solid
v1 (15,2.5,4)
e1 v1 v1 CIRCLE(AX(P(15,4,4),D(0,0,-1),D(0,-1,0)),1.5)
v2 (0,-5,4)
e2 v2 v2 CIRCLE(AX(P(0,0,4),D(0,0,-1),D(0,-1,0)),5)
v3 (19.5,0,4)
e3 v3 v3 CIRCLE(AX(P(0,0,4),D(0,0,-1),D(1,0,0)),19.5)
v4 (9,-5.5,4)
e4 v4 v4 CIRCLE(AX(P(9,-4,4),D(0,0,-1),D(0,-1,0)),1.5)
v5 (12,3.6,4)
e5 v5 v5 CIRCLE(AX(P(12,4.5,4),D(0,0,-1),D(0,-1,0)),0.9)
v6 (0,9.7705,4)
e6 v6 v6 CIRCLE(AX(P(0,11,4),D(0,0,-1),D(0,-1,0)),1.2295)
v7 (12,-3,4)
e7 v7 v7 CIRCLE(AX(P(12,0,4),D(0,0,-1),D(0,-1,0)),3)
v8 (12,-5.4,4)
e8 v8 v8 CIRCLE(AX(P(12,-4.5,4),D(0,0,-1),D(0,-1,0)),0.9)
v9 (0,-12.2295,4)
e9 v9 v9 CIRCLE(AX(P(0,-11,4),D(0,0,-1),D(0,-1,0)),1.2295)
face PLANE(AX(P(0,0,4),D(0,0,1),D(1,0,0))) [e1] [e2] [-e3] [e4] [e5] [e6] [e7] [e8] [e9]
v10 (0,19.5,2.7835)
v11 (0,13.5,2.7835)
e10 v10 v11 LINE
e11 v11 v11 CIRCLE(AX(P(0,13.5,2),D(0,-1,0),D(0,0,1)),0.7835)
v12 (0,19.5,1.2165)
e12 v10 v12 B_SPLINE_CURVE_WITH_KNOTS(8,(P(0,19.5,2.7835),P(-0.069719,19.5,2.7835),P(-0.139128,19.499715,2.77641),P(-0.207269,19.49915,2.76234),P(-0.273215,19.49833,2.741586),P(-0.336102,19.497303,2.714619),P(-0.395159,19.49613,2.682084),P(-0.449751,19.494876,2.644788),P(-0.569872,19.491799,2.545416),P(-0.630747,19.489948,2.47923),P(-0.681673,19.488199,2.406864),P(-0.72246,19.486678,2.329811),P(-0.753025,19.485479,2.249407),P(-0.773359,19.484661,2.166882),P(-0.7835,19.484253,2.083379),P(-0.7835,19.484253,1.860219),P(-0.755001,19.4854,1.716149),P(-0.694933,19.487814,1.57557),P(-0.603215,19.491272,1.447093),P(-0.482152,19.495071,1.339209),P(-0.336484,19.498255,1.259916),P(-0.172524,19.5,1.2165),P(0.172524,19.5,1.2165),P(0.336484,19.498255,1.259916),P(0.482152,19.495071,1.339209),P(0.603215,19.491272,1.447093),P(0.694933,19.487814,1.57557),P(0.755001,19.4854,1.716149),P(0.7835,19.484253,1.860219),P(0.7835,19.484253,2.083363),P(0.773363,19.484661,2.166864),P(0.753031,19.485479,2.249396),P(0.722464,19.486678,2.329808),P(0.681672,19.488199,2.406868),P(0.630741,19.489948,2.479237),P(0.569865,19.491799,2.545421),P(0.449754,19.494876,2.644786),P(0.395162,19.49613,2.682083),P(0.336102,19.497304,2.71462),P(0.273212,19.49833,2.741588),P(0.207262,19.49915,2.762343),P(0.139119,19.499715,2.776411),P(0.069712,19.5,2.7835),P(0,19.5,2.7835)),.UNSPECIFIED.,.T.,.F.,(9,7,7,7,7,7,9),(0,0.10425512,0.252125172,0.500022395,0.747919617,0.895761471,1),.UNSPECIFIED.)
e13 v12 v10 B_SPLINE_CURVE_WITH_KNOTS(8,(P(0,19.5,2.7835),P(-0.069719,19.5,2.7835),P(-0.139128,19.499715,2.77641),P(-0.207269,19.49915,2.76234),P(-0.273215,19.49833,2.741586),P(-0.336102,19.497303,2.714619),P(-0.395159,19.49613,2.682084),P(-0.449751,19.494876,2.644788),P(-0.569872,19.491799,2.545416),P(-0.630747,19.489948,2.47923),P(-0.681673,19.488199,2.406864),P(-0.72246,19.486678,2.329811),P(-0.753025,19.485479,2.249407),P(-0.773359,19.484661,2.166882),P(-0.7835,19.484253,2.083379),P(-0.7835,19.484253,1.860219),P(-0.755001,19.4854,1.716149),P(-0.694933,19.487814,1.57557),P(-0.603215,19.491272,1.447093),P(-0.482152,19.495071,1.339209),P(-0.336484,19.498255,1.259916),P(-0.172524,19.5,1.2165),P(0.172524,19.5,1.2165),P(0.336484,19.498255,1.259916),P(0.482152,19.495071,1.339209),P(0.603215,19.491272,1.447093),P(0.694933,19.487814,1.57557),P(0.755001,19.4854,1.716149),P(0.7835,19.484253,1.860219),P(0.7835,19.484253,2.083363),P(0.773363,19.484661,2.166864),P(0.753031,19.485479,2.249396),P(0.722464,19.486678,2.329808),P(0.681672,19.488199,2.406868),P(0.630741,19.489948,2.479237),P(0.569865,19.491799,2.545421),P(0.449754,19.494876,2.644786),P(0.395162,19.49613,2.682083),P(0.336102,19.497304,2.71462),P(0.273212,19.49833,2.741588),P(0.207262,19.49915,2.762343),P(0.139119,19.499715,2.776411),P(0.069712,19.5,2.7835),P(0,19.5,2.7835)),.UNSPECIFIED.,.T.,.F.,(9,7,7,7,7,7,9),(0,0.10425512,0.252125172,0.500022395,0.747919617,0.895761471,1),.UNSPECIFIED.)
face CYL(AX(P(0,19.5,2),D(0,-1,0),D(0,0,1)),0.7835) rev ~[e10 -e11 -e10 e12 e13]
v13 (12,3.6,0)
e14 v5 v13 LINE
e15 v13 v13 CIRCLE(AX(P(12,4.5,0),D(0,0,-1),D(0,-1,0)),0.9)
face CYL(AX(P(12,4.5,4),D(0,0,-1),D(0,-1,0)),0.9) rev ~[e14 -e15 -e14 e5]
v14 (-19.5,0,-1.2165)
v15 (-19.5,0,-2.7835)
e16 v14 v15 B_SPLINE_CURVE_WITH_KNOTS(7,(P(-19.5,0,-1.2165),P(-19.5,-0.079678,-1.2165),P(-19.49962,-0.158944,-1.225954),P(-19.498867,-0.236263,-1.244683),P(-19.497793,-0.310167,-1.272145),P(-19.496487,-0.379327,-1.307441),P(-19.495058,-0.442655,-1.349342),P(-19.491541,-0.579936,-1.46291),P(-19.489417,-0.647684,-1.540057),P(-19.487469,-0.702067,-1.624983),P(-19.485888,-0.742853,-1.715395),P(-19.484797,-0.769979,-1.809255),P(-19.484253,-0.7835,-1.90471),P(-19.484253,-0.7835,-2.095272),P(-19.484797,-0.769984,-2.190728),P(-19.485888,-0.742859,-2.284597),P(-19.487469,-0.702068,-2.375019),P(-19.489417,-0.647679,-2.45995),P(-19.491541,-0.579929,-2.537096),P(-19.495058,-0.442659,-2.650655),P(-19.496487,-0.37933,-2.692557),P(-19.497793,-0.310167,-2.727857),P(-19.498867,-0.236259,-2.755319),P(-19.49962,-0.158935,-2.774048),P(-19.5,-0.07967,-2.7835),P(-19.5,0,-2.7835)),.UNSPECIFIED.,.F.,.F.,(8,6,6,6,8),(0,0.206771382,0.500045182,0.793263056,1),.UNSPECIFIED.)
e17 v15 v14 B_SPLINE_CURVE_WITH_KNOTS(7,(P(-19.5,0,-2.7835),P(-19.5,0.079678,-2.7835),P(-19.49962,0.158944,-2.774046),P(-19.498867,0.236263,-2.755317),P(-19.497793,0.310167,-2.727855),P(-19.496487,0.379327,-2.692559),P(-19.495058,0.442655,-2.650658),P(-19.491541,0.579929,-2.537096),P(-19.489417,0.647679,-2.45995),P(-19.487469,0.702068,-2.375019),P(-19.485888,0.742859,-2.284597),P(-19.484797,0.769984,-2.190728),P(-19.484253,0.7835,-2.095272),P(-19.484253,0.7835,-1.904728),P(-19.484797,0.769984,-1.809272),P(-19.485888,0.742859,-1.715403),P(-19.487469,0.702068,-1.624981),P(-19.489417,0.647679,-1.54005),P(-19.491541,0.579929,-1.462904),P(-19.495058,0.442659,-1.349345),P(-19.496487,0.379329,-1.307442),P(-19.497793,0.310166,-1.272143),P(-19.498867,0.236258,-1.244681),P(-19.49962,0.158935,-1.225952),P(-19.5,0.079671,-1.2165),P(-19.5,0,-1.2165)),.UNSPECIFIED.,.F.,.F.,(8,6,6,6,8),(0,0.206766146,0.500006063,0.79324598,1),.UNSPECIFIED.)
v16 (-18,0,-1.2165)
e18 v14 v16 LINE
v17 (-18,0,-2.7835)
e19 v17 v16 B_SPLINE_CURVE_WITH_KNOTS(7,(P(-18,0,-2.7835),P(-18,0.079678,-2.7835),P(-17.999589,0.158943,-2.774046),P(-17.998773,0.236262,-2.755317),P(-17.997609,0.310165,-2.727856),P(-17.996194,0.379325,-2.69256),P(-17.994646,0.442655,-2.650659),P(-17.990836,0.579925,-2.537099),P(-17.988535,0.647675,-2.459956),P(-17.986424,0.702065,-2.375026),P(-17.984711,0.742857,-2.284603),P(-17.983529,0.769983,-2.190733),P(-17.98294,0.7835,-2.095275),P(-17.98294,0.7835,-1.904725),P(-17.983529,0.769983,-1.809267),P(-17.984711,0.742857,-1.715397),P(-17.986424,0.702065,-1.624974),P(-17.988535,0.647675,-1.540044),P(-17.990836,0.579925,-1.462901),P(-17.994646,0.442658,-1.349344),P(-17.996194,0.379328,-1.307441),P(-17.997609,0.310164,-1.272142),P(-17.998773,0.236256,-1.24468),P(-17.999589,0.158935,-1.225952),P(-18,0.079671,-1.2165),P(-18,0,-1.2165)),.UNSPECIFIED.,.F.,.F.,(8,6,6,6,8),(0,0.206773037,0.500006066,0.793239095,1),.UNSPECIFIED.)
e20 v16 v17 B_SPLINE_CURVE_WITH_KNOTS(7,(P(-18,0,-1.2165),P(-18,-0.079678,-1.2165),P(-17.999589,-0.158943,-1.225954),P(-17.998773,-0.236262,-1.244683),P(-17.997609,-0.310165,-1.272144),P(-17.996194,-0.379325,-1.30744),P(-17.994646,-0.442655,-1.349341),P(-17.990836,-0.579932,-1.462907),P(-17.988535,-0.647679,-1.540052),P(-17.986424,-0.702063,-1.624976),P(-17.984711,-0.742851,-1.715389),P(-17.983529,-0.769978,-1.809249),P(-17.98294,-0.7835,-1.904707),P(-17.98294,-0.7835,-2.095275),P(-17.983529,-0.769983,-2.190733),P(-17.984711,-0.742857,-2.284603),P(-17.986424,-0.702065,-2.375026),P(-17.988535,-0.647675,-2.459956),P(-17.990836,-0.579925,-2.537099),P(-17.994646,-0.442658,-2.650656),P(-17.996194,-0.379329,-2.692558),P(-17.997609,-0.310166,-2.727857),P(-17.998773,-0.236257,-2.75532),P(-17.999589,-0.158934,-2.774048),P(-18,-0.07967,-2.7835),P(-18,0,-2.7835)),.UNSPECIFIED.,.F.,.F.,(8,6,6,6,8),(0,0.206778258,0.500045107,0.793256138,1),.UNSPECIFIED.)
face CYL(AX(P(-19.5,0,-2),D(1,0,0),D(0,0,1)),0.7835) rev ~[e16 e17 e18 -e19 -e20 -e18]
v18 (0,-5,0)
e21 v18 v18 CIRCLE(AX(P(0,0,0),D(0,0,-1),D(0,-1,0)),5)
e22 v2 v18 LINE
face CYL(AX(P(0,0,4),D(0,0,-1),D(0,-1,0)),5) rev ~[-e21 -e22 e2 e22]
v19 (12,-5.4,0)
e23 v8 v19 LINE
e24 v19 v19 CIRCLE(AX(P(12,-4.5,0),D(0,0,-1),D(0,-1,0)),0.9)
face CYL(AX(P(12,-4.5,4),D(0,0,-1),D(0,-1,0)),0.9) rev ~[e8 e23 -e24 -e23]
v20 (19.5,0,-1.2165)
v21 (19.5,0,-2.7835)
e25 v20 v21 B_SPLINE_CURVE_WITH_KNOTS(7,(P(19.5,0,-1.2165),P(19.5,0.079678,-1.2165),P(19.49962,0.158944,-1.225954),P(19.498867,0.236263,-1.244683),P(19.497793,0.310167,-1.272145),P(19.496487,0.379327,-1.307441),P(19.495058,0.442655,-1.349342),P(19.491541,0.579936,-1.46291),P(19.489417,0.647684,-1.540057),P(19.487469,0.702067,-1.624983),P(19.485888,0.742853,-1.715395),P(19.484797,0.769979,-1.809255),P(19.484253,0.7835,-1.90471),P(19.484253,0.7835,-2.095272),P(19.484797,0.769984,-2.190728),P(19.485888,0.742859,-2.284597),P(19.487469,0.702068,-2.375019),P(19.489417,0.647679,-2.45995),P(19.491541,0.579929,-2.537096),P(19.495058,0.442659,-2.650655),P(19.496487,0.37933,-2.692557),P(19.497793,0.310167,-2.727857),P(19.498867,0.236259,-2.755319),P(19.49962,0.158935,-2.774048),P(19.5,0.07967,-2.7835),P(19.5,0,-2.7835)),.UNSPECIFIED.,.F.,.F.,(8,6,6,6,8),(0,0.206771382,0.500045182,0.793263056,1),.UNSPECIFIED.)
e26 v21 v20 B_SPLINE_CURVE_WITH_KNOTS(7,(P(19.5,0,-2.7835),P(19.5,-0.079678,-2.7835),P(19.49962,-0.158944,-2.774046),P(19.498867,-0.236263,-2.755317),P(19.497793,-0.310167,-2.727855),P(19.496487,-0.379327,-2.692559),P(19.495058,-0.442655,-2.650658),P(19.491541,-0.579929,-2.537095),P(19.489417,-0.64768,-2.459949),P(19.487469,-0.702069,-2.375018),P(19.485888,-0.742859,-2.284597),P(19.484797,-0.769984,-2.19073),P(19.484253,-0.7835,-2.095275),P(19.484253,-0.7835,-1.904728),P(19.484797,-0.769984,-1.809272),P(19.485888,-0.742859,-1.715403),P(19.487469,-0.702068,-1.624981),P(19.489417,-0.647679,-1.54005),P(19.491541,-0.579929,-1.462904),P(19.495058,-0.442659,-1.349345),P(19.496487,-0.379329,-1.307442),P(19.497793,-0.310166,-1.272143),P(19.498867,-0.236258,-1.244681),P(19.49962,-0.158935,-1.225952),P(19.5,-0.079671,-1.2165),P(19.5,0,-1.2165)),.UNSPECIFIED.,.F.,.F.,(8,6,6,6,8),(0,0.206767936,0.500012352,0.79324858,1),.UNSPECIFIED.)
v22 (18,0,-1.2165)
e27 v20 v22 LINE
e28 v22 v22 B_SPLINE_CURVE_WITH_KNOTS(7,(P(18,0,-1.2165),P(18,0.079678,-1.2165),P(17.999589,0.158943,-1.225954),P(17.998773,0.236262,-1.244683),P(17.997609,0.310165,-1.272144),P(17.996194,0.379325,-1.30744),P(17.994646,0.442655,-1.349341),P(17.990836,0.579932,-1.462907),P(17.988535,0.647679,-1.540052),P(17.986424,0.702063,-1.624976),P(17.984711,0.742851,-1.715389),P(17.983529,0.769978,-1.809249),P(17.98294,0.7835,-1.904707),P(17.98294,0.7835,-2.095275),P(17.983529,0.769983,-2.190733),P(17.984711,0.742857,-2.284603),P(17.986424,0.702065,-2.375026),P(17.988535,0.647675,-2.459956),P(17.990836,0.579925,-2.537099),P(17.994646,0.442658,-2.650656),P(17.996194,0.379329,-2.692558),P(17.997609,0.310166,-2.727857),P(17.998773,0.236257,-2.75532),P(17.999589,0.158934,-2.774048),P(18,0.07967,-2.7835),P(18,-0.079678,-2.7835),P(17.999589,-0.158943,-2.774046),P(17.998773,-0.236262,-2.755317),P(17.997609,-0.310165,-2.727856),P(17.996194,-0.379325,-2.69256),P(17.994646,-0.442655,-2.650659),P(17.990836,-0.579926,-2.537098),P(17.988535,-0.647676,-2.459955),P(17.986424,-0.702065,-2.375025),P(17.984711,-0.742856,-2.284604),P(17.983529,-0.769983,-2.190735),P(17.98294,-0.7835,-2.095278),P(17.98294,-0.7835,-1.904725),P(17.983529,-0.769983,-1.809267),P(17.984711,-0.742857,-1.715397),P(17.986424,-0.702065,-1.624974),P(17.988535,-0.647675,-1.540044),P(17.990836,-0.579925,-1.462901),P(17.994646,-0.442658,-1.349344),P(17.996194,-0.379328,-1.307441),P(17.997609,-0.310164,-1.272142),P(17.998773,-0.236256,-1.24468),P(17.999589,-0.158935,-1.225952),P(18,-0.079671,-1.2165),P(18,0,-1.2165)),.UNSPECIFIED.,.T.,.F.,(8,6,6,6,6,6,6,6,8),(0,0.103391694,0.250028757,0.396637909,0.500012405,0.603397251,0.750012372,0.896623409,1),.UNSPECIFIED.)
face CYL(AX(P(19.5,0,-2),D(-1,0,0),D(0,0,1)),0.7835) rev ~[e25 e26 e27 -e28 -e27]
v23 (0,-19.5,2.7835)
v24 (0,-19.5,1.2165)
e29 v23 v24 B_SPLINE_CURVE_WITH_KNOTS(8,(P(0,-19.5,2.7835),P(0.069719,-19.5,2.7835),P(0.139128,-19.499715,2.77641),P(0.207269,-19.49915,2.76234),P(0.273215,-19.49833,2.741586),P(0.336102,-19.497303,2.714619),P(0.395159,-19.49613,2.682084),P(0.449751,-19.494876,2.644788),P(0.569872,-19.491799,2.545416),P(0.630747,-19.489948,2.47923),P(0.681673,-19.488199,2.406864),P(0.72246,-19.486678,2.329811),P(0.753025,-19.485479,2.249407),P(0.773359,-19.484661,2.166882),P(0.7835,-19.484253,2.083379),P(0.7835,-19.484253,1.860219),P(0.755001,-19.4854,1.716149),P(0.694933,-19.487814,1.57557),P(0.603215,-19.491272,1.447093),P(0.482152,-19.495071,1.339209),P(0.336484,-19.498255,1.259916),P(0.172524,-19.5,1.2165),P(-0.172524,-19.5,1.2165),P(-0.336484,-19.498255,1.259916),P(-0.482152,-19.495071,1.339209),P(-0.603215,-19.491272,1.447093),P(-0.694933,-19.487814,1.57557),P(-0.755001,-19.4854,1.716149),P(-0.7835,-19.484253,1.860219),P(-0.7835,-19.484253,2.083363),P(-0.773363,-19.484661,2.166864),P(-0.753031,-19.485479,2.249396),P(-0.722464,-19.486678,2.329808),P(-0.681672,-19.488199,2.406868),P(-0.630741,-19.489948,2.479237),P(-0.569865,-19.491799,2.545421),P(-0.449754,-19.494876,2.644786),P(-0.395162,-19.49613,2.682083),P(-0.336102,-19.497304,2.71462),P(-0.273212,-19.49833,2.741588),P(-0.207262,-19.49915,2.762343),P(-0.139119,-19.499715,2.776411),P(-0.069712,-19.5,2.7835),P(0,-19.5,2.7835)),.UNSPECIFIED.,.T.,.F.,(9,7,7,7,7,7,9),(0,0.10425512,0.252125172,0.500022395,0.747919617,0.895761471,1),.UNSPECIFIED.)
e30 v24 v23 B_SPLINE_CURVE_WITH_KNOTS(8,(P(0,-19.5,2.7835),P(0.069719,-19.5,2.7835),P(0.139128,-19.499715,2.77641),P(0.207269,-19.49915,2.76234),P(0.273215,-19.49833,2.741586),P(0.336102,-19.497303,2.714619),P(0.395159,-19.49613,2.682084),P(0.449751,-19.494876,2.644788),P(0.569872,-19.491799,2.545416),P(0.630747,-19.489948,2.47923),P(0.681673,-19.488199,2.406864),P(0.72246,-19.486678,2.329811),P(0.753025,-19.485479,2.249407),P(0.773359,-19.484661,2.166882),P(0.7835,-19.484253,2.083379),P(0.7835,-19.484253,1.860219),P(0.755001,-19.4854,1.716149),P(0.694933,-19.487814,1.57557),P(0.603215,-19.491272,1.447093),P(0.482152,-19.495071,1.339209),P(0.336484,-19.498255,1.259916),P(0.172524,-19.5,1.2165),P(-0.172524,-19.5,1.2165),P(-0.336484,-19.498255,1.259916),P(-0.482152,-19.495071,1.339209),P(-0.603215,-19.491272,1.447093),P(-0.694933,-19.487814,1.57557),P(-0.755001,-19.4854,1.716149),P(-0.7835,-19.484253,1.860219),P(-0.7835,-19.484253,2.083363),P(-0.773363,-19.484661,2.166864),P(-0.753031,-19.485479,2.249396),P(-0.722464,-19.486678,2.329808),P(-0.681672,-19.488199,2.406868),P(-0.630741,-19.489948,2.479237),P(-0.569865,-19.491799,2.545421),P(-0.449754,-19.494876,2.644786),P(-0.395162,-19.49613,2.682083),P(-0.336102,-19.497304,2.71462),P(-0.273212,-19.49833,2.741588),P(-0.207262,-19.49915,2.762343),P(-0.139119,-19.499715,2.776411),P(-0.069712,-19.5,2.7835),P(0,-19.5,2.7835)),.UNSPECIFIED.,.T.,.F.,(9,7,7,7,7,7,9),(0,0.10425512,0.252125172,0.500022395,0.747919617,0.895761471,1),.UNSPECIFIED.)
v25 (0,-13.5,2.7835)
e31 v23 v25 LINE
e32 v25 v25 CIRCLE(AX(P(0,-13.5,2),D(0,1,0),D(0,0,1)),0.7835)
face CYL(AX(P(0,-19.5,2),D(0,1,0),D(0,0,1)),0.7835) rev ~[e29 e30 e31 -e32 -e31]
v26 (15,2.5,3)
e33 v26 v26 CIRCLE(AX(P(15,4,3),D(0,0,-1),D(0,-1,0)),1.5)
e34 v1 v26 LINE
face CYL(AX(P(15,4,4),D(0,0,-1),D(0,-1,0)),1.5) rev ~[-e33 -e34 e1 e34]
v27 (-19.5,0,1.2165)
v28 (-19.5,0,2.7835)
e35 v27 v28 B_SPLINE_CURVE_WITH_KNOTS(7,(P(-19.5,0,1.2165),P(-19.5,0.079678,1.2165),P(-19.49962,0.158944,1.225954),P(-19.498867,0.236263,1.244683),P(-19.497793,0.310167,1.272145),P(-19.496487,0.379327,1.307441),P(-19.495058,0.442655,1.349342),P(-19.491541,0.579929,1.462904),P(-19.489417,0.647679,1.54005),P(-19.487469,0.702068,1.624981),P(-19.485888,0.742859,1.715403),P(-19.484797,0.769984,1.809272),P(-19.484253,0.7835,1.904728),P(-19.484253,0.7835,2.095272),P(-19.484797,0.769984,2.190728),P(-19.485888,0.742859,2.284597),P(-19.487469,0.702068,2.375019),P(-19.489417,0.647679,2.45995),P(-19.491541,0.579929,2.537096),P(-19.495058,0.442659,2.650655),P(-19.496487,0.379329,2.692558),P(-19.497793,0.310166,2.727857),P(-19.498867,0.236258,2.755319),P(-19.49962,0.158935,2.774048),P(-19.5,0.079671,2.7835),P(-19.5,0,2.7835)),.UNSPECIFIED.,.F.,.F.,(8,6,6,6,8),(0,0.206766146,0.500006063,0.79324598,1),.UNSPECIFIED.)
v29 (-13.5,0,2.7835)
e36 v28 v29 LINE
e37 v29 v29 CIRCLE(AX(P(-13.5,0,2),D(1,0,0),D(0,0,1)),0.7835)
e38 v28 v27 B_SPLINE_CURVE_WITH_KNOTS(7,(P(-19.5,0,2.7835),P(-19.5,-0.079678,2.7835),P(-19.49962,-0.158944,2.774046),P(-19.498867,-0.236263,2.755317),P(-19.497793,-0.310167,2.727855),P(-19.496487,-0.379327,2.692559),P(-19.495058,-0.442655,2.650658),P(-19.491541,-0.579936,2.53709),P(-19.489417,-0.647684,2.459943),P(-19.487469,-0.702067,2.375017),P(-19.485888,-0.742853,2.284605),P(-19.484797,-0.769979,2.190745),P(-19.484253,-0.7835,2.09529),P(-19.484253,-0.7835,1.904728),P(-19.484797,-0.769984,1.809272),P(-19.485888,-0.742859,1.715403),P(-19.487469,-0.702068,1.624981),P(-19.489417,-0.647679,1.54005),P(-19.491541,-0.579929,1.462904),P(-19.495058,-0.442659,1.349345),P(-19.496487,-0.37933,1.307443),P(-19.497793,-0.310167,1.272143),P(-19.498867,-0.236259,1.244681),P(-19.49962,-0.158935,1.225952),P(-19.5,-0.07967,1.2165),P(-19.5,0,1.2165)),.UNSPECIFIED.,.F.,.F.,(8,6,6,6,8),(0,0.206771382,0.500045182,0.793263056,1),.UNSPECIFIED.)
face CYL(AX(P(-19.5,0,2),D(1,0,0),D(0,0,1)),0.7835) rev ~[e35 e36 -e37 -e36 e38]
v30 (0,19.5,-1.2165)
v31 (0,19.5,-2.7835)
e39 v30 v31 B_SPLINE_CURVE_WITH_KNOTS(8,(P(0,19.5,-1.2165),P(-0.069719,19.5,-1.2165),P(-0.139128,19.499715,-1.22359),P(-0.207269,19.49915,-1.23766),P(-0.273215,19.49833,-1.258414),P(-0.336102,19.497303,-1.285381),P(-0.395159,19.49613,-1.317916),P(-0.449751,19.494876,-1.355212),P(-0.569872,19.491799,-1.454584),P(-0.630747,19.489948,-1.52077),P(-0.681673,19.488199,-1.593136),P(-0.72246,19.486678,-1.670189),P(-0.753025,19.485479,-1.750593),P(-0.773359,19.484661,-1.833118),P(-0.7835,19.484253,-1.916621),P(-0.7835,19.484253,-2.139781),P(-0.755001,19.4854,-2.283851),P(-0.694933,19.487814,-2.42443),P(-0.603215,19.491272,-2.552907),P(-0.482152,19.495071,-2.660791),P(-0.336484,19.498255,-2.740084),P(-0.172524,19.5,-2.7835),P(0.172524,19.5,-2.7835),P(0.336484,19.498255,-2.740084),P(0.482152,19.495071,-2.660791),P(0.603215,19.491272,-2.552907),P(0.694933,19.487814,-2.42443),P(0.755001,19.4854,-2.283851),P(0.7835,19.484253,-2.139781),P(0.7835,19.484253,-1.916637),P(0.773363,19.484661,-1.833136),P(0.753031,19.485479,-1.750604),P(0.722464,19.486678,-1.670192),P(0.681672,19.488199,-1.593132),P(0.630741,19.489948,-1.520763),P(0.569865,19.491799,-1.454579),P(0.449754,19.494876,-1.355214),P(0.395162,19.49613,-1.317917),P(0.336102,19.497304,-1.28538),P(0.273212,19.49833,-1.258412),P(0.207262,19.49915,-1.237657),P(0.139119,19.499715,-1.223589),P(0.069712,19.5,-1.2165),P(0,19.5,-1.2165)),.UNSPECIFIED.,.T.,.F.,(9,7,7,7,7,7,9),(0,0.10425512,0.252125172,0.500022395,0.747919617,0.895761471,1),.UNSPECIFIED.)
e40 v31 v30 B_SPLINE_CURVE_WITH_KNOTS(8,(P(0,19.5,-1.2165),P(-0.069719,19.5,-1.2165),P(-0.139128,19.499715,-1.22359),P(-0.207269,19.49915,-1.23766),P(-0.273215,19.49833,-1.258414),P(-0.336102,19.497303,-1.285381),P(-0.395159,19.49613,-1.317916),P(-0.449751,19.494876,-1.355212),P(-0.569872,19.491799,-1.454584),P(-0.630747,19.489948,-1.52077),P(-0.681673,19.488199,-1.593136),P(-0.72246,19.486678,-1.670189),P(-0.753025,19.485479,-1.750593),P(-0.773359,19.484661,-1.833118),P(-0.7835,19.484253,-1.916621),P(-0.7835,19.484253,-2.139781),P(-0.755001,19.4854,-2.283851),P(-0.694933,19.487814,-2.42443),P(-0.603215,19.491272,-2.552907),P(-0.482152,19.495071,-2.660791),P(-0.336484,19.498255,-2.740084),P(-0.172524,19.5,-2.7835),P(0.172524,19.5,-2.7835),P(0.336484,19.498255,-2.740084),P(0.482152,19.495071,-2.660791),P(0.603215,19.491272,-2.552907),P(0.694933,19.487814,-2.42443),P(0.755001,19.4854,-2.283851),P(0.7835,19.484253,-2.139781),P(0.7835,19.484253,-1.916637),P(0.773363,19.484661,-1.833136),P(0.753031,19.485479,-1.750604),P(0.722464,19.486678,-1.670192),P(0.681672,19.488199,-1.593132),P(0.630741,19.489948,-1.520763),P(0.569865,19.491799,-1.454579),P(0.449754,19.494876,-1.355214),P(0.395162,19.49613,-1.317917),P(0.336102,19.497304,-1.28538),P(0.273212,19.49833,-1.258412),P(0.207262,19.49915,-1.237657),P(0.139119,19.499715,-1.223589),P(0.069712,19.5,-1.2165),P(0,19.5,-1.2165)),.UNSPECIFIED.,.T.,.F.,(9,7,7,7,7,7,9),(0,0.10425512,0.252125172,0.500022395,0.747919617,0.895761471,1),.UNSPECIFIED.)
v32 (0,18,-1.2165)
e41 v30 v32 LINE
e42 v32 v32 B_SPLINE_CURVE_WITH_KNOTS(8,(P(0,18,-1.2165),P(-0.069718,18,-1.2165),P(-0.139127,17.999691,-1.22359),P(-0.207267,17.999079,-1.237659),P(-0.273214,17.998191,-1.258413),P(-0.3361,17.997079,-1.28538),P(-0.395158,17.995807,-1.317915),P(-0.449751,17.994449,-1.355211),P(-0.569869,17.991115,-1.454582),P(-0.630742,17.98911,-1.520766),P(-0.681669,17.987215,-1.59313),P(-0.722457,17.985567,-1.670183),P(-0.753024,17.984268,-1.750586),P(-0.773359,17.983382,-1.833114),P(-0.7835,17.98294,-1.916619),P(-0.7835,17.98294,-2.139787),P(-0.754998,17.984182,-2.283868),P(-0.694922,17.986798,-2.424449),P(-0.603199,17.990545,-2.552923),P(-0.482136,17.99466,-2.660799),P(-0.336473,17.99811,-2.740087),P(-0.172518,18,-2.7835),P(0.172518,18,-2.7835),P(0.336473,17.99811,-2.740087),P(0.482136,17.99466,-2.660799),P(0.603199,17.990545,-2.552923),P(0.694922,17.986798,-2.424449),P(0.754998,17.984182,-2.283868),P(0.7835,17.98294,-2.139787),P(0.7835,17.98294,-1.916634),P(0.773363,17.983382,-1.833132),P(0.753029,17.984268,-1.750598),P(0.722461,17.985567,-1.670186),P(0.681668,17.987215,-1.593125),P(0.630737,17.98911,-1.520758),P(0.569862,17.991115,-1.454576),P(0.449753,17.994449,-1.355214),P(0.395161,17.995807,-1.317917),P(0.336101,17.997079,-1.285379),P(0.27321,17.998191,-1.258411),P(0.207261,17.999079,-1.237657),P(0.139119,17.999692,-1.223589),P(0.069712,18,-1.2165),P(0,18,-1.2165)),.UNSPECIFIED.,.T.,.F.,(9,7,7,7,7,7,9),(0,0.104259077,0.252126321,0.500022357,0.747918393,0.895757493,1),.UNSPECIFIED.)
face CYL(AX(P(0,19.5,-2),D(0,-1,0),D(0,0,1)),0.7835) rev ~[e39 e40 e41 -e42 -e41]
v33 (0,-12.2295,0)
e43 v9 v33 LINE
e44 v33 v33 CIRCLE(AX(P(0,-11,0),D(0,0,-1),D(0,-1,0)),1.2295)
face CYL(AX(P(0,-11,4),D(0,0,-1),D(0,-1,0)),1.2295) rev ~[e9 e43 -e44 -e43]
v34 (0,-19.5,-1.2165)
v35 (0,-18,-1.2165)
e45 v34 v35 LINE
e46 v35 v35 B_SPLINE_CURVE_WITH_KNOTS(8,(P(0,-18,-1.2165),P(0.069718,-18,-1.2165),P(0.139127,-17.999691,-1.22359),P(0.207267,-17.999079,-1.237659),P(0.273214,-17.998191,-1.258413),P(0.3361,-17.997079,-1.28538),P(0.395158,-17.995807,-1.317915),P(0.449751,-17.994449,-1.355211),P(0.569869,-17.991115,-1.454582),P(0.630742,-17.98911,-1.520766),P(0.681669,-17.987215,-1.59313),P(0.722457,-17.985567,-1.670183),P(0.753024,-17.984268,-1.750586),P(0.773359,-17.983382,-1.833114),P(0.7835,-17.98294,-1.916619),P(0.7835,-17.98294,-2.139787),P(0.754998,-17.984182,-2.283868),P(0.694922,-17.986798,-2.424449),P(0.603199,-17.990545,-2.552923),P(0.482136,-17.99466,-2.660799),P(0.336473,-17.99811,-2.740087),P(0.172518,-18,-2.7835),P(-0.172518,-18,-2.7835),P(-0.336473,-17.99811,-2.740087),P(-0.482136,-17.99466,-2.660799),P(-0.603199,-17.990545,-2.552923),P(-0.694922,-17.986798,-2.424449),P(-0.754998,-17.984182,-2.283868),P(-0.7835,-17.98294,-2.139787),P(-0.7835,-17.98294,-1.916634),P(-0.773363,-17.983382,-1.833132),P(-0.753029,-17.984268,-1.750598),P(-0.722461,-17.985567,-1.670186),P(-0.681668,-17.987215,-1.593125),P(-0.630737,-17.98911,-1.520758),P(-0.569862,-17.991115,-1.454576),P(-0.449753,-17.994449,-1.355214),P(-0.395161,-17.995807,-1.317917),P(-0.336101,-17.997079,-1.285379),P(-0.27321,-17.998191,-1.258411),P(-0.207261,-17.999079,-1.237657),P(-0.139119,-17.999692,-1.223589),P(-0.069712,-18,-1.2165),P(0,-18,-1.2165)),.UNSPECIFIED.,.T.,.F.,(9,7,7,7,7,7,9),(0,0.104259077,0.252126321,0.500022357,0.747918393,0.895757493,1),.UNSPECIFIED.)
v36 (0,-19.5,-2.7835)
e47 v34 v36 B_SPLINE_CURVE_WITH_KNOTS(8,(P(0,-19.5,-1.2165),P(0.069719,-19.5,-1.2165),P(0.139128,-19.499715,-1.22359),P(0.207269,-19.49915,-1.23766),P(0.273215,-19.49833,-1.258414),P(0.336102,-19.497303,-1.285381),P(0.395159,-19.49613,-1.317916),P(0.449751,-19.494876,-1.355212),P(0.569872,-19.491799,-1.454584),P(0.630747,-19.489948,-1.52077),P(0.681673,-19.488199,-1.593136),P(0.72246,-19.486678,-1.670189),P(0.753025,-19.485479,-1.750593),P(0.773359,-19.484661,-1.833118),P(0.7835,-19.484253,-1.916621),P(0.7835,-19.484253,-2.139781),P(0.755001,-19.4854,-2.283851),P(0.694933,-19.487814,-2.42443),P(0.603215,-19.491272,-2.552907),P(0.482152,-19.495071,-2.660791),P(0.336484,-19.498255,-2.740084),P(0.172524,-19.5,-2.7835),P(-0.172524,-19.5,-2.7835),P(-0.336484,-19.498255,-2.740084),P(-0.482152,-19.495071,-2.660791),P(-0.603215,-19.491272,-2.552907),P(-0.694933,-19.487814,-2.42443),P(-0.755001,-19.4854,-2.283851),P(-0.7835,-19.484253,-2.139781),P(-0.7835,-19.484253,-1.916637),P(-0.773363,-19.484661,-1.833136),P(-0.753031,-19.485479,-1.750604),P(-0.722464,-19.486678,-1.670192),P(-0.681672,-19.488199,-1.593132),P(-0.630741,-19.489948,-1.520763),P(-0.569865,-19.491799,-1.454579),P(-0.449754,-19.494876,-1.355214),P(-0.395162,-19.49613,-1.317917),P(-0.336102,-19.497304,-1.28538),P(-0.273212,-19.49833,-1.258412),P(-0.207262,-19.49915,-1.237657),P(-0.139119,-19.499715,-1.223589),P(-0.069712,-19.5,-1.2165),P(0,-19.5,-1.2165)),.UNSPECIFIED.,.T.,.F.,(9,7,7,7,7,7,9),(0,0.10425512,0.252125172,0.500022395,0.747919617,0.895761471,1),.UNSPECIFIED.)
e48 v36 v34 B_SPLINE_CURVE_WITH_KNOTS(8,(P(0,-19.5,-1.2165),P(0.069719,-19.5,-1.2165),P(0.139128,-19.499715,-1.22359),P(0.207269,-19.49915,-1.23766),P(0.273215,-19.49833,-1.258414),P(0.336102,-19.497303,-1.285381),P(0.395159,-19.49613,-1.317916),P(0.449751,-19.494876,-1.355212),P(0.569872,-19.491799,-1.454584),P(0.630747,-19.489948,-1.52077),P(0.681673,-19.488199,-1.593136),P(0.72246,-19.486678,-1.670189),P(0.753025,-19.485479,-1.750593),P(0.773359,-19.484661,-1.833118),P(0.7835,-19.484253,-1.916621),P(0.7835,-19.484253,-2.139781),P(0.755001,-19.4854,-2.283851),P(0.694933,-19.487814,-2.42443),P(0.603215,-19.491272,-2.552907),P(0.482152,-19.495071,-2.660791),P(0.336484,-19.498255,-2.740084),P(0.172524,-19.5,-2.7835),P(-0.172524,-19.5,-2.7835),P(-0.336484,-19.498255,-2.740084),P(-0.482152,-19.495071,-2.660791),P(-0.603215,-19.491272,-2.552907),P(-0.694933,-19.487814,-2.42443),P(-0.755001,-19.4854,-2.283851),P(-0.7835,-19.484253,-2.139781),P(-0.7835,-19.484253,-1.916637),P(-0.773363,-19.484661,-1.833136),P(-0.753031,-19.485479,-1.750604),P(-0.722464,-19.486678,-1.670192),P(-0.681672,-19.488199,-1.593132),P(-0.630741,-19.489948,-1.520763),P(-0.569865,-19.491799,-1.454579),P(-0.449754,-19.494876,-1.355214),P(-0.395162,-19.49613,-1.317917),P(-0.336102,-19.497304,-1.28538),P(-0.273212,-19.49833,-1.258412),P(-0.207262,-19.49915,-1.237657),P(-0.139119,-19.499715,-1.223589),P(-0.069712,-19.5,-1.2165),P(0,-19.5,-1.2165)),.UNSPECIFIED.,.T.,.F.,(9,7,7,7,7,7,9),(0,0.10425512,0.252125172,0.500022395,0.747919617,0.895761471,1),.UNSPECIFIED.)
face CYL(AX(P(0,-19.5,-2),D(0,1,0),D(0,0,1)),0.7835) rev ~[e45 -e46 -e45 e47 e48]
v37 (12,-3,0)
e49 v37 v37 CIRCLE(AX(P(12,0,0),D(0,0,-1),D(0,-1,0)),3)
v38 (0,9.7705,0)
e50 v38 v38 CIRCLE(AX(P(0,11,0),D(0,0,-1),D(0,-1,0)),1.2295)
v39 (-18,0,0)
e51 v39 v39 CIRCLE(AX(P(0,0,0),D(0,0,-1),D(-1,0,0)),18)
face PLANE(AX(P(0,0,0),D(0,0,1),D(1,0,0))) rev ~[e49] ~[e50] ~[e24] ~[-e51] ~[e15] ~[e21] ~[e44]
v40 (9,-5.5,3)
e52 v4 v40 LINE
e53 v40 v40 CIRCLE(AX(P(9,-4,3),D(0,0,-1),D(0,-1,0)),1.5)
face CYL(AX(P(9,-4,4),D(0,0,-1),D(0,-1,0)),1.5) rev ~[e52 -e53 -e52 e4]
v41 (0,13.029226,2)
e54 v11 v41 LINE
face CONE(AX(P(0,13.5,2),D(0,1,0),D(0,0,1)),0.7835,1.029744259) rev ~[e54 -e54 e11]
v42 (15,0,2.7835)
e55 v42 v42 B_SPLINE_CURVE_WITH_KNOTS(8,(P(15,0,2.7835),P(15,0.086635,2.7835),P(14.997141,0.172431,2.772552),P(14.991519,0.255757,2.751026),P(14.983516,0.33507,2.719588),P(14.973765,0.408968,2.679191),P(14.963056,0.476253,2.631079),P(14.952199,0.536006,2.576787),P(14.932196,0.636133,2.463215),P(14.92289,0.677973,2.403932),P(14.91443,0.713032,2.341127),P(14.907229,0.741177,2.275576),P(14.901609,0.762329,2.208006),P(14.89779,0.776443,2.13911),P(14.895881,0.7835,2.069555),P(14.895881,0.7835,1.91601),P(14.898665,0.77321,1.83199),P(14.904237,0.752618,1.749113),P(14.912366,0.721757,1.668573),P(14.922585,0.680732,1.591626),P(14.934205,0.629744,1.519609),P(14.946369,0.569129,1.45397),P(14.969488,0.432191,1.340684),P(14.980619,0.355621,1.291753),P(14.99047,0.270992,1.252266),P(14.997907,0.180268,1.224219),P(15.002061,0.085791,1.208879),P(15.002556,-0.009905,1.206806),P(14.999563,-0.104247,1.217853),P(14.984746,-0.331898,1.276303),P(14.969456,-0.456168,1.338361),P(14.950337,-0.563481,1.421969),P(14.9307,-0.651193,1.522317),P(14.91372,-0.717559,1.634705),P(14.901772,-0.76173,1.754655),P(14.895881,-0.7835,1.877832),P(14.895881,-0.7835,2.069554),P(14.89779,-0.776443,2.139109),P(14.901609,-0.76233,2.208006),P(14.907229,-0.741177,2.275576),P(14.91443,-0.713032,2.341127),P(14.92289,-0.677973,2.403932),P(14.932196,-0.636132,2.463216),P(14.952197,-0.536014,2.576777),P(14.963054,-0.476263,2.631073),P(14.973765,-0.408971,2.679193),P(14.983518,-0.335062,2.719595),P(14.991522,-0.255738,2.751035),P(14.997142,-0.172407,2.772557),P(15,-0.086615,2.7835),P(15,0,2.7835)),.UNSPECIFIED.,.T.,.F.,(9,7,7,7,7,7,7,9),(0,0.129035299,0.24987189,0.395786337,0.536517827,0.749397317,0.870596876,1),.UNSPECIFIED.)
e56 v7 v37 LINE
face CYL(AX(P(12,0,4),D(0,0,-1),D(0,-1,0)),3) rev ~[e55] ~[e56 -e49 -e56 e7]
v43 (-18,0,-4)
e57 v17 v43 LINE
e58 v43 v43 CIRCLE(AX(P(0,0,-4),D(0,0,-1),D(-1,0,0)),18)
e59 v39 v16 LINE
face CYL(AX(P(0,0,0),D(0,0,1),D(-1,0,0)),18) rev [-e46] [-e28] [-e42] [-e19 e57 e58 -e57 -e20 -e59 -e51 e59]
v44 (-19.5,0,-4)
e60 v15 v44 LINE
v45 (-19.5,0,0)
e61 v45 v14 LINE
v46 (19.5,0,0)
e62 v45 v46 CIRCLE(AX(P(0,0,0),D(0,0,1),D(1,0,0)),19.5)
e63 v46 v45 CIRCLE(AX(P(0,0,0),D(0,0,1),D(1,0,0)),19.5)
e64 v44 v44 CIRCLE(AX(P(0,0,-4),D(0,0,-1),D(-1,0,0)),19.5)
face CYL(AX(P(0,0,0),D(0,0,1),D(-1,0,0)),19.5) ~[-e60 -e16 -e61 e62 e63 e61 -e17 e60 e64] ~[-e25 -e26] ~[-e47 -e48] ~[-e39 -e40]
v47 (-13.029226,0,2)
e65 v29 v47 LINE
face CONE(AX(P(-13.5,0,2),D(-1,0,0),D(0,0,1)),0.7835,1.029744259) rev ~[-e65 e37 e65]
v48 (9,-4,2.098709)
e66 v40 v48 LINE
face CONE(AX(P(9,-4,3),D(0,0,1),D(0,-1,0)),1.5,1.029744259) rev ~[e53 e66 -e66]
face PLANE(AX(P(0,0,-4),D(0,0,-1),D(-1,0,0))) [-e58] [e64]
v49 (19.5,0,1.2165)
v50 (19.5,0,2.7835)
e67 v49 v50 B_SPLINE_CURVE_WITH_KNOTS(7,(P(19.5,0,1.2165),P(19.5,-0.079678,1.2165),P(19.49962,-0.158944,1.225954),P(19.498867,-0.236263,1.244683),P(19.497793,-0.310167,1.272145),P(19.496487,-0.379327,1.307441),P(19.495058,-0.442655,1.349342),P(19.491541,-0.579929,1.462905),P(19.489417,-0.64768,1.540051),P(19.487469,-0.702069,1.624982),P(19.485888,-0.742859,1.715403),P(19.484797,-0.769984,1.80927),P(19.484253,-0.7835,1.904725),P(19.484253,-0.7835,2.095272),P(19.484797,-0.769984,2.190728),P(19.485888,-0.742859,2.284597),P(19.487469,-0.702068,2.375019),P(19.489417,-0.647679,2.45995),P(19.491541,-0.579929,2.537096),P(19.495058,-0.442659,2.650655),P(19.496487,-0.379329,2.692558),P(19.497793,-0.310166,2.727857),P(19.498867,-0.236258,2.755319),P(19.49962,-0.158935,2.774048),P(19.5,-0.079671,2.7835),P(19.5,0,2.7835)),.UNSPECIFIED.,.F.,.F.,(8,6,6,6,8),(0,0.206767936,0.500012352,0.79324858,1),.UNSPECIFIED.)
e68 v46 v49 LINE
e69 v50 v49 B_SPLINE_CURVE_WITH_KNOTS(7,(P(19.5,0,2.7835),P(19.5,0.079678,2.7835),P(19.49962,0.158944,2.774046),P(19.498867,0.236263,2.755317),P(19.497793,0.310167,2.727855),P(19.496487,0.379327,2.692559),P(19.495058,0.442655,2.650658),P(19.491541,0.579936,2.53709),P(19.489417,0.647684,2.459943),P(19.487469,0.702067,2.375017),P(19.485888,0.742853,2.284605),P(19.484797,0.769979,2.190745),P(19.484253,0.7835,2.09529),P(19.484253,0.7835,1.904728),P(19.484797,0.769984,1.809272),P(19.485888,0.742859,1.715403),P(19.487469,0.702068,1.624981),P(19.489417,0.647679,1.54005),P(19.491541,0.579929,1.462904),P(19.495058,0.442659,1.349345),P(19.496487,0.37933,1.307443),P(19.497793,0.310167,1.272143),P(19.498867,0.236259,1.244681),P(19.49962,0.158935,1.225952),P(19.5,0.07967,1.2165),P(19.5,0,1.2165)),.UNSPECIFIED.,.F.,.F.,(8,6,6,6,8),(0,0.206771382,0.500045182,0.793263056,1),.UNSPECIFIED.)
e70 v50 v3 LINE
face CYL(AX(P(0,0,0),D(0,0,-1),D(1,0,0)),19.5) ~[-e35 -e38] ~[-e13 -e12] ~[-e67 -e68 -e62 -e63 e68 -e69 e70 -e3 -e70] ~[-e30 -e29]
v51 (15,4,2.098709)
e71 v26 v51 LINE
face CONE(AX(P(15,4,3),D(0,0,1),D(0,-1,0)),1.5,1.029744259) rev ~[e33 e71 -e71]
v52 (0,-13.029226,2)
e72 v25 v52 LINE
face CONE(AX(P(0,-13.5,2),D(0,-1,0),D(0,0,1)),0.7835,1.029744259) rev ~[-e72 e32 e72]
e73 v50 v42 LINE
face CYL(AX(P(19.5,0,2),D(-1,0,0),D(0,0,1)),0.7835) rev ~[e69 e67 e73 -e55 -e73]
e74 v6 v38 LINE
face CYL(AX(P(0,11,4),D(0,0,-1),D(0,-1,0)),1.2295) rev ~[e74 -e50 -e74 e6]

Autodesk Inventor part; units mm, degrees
ref_plane "XZ Plane" through (0, 0, 0) normal (0, 1, 0) x (-1, 0, 0)
sketch "Skizze1" plane through (0, 0, 0) normal (0, 0, 1) x (1, 0, 0)
  line L0 (-44.1689, 0) -> (40.5177, 0) projected
  line L1 (0, -38.9628) -> (0, 40.9677) projected
  circle A0 centre (0, 0) radius 19.5
  dimension "d0" = 39
extrude "Extrusion1" add sketch "Skizze1" along normal blind 4
hole "Bohrung1" at (0, 0, 4) direction (0, 0, -1) diameter 10 end through all
sketch "Skizze2" plane through (0, 0, 4) normal (0, 0, 1) x (1, 0, 0)
  circle A0 centre (0, 0) radius 5 projected
  line L0 (-44.1689, 0) -> (40.5177, 0) projected
  line L1 (0, -38.9628) -> (0, 40.9677) projected
  point P0 (12, 0)
  dimension "d14" = 12
hole "Bohrung2" at (12, 0, 4) direction (0, 0, -1) diameter 6 end through all
sketch "Skizze5" plane through (0, 0, 4) normal (0, 0, 1) x (1, 0, 0)
  circle A0 centre (9, -4) radius 0.7 projected
  circle A1 centre (15, 4) radius 0.7 projected
hole "Bohrung4" at (9, -4, 4) at (15, 4, 4) direction (0, 0, -1) diameter 3 depth 1 tip angle 118
sketch "Skizze7" plane through (0, 0, 4) normal (0, 0, 1) x (1, 0, 0)
  line L0 (0, -38.9628) -> (0, 40.9677) projected
  line L1 (-44.1689, 0) -> (40.5177, 0) projected
  point P0 (12, -4.5)
  point P1 (12, 4.5)
  dimension "d39" = 12
  dimension "d40" = 9
hole "Bohrung5" at (12, -4.5, 4) at (12, 4.5, 4) direction (0, 0, -1) diameter 1.8 end through all
sketch "Skizze9" plane through (0, 0, 0) normal (0, 0, -1) x (-1, 0, 0)
  circle A0 centre (0, 0) radius 19.5 projected
  circle A1 centre (0, 0) radius 18
  dimension "d58" = 1.5
extrude "Extrusion3" add sketch "Skizze9" along normal blind 4
ref_plane "Arbeitsebene1" through (-19.5, 0, 0) normal (1, 0, 0) x (0, 1, 0)
sketch "Skizze10" plane through (-19.5, 0, 0) normal (1, 0, 0) x (0, 1, 0)
  line L0 (-5.4, 4) -> (-3.6, 4) projected
  line L1 (3.6, 4) -> (5.4, 4) projected
  line L2 (-19.5, 4) -> (19.5, 4) projected
  line L3 (-3, 4) -> (3, 4) projected
  line L4 (-5, 4) -> (5, 4) projected
  line L5 (19.5, 4) -> (-19.5, 4) projected
  line L6 (-34.9563, 0) -> (28.576, 0) projected
  line L7 (0, -5.6) -> (0, 5.6) projected
  point P0 (0, 0)
  point P1 (-5.5, 4)
  point P2 (-2.5, 4)
  point P3 (2.5, 4)
  point P4 (5.5, 4)
  point P5 (0, 2)
  point P6 (0, -2)
  dimension "d63" = 2
  dimension "d104" = 4
hole "Bohrung7" at (-19.5, 0, 2) at (-19.5, 0, -2) direction (1, 0, 0) diameter 1.567 depth 6 tip angle 118 thread size "M2x0.4" class "6H" standard "ISO Metric profile"
sketch "Skizze11" plane through (0, 0, 4) normal (0, 0, 1) x (1, 0, 0)
  circle A0 centre (12, -4.5) radius 0.9 projected
  circle A1 centre (12, 4.5) radius 0.9 projected
  circle A2 centre (9, -4) radius 1.5 projected
  circle A3 centre (15, 4) radius 1.5 projected
  circle A4 centre (12, 0) radius 3 projected
  circle A5 centre (0, 0) radius 5 projected
  circle A6 centre (0, 0) radius 19.5 projected
  line L0 (0, 0) -> (-19.0596, 19.0596)
  line L1 (-27.3, 0) -> (27.3, 0) projected
  line L2 (0, -35.3992) -> (0, 31.2338) projected
  dimension "d71" = 45
ref_plane "Arbeitsebene4" through (13.7886, 13.7886, 0) normal (0.7071, 0.7071, 0) x (-0.7071, 0.7071, 0)
pattern_circular "Runde Anordnung1" count 4 over 360 about axis through (0, 0, 0) along (0, 0, 1) of "Bohrung7"
sketch "Skizze14" plane through (0, 0, 4) normal (0, 0, 1) x (1, 0, 0)
  line L0 (-27.3, 0) -> (27.3, 0) projected
  line L1 (0, -35.3992) -> (0, 31.2338) projected
  point P0 (0, 11)
  point P1 (0, -11)
  dimension "d96" = 22
hole "Bohrung10" at (0, 11, 4) at (0, -11, 4) direction (0, 0, -1) diameter 2.459 end through all thread size "M3x0.5" class "6H" standard "ISO Metric profile"
properties part number "13_1087_030"
